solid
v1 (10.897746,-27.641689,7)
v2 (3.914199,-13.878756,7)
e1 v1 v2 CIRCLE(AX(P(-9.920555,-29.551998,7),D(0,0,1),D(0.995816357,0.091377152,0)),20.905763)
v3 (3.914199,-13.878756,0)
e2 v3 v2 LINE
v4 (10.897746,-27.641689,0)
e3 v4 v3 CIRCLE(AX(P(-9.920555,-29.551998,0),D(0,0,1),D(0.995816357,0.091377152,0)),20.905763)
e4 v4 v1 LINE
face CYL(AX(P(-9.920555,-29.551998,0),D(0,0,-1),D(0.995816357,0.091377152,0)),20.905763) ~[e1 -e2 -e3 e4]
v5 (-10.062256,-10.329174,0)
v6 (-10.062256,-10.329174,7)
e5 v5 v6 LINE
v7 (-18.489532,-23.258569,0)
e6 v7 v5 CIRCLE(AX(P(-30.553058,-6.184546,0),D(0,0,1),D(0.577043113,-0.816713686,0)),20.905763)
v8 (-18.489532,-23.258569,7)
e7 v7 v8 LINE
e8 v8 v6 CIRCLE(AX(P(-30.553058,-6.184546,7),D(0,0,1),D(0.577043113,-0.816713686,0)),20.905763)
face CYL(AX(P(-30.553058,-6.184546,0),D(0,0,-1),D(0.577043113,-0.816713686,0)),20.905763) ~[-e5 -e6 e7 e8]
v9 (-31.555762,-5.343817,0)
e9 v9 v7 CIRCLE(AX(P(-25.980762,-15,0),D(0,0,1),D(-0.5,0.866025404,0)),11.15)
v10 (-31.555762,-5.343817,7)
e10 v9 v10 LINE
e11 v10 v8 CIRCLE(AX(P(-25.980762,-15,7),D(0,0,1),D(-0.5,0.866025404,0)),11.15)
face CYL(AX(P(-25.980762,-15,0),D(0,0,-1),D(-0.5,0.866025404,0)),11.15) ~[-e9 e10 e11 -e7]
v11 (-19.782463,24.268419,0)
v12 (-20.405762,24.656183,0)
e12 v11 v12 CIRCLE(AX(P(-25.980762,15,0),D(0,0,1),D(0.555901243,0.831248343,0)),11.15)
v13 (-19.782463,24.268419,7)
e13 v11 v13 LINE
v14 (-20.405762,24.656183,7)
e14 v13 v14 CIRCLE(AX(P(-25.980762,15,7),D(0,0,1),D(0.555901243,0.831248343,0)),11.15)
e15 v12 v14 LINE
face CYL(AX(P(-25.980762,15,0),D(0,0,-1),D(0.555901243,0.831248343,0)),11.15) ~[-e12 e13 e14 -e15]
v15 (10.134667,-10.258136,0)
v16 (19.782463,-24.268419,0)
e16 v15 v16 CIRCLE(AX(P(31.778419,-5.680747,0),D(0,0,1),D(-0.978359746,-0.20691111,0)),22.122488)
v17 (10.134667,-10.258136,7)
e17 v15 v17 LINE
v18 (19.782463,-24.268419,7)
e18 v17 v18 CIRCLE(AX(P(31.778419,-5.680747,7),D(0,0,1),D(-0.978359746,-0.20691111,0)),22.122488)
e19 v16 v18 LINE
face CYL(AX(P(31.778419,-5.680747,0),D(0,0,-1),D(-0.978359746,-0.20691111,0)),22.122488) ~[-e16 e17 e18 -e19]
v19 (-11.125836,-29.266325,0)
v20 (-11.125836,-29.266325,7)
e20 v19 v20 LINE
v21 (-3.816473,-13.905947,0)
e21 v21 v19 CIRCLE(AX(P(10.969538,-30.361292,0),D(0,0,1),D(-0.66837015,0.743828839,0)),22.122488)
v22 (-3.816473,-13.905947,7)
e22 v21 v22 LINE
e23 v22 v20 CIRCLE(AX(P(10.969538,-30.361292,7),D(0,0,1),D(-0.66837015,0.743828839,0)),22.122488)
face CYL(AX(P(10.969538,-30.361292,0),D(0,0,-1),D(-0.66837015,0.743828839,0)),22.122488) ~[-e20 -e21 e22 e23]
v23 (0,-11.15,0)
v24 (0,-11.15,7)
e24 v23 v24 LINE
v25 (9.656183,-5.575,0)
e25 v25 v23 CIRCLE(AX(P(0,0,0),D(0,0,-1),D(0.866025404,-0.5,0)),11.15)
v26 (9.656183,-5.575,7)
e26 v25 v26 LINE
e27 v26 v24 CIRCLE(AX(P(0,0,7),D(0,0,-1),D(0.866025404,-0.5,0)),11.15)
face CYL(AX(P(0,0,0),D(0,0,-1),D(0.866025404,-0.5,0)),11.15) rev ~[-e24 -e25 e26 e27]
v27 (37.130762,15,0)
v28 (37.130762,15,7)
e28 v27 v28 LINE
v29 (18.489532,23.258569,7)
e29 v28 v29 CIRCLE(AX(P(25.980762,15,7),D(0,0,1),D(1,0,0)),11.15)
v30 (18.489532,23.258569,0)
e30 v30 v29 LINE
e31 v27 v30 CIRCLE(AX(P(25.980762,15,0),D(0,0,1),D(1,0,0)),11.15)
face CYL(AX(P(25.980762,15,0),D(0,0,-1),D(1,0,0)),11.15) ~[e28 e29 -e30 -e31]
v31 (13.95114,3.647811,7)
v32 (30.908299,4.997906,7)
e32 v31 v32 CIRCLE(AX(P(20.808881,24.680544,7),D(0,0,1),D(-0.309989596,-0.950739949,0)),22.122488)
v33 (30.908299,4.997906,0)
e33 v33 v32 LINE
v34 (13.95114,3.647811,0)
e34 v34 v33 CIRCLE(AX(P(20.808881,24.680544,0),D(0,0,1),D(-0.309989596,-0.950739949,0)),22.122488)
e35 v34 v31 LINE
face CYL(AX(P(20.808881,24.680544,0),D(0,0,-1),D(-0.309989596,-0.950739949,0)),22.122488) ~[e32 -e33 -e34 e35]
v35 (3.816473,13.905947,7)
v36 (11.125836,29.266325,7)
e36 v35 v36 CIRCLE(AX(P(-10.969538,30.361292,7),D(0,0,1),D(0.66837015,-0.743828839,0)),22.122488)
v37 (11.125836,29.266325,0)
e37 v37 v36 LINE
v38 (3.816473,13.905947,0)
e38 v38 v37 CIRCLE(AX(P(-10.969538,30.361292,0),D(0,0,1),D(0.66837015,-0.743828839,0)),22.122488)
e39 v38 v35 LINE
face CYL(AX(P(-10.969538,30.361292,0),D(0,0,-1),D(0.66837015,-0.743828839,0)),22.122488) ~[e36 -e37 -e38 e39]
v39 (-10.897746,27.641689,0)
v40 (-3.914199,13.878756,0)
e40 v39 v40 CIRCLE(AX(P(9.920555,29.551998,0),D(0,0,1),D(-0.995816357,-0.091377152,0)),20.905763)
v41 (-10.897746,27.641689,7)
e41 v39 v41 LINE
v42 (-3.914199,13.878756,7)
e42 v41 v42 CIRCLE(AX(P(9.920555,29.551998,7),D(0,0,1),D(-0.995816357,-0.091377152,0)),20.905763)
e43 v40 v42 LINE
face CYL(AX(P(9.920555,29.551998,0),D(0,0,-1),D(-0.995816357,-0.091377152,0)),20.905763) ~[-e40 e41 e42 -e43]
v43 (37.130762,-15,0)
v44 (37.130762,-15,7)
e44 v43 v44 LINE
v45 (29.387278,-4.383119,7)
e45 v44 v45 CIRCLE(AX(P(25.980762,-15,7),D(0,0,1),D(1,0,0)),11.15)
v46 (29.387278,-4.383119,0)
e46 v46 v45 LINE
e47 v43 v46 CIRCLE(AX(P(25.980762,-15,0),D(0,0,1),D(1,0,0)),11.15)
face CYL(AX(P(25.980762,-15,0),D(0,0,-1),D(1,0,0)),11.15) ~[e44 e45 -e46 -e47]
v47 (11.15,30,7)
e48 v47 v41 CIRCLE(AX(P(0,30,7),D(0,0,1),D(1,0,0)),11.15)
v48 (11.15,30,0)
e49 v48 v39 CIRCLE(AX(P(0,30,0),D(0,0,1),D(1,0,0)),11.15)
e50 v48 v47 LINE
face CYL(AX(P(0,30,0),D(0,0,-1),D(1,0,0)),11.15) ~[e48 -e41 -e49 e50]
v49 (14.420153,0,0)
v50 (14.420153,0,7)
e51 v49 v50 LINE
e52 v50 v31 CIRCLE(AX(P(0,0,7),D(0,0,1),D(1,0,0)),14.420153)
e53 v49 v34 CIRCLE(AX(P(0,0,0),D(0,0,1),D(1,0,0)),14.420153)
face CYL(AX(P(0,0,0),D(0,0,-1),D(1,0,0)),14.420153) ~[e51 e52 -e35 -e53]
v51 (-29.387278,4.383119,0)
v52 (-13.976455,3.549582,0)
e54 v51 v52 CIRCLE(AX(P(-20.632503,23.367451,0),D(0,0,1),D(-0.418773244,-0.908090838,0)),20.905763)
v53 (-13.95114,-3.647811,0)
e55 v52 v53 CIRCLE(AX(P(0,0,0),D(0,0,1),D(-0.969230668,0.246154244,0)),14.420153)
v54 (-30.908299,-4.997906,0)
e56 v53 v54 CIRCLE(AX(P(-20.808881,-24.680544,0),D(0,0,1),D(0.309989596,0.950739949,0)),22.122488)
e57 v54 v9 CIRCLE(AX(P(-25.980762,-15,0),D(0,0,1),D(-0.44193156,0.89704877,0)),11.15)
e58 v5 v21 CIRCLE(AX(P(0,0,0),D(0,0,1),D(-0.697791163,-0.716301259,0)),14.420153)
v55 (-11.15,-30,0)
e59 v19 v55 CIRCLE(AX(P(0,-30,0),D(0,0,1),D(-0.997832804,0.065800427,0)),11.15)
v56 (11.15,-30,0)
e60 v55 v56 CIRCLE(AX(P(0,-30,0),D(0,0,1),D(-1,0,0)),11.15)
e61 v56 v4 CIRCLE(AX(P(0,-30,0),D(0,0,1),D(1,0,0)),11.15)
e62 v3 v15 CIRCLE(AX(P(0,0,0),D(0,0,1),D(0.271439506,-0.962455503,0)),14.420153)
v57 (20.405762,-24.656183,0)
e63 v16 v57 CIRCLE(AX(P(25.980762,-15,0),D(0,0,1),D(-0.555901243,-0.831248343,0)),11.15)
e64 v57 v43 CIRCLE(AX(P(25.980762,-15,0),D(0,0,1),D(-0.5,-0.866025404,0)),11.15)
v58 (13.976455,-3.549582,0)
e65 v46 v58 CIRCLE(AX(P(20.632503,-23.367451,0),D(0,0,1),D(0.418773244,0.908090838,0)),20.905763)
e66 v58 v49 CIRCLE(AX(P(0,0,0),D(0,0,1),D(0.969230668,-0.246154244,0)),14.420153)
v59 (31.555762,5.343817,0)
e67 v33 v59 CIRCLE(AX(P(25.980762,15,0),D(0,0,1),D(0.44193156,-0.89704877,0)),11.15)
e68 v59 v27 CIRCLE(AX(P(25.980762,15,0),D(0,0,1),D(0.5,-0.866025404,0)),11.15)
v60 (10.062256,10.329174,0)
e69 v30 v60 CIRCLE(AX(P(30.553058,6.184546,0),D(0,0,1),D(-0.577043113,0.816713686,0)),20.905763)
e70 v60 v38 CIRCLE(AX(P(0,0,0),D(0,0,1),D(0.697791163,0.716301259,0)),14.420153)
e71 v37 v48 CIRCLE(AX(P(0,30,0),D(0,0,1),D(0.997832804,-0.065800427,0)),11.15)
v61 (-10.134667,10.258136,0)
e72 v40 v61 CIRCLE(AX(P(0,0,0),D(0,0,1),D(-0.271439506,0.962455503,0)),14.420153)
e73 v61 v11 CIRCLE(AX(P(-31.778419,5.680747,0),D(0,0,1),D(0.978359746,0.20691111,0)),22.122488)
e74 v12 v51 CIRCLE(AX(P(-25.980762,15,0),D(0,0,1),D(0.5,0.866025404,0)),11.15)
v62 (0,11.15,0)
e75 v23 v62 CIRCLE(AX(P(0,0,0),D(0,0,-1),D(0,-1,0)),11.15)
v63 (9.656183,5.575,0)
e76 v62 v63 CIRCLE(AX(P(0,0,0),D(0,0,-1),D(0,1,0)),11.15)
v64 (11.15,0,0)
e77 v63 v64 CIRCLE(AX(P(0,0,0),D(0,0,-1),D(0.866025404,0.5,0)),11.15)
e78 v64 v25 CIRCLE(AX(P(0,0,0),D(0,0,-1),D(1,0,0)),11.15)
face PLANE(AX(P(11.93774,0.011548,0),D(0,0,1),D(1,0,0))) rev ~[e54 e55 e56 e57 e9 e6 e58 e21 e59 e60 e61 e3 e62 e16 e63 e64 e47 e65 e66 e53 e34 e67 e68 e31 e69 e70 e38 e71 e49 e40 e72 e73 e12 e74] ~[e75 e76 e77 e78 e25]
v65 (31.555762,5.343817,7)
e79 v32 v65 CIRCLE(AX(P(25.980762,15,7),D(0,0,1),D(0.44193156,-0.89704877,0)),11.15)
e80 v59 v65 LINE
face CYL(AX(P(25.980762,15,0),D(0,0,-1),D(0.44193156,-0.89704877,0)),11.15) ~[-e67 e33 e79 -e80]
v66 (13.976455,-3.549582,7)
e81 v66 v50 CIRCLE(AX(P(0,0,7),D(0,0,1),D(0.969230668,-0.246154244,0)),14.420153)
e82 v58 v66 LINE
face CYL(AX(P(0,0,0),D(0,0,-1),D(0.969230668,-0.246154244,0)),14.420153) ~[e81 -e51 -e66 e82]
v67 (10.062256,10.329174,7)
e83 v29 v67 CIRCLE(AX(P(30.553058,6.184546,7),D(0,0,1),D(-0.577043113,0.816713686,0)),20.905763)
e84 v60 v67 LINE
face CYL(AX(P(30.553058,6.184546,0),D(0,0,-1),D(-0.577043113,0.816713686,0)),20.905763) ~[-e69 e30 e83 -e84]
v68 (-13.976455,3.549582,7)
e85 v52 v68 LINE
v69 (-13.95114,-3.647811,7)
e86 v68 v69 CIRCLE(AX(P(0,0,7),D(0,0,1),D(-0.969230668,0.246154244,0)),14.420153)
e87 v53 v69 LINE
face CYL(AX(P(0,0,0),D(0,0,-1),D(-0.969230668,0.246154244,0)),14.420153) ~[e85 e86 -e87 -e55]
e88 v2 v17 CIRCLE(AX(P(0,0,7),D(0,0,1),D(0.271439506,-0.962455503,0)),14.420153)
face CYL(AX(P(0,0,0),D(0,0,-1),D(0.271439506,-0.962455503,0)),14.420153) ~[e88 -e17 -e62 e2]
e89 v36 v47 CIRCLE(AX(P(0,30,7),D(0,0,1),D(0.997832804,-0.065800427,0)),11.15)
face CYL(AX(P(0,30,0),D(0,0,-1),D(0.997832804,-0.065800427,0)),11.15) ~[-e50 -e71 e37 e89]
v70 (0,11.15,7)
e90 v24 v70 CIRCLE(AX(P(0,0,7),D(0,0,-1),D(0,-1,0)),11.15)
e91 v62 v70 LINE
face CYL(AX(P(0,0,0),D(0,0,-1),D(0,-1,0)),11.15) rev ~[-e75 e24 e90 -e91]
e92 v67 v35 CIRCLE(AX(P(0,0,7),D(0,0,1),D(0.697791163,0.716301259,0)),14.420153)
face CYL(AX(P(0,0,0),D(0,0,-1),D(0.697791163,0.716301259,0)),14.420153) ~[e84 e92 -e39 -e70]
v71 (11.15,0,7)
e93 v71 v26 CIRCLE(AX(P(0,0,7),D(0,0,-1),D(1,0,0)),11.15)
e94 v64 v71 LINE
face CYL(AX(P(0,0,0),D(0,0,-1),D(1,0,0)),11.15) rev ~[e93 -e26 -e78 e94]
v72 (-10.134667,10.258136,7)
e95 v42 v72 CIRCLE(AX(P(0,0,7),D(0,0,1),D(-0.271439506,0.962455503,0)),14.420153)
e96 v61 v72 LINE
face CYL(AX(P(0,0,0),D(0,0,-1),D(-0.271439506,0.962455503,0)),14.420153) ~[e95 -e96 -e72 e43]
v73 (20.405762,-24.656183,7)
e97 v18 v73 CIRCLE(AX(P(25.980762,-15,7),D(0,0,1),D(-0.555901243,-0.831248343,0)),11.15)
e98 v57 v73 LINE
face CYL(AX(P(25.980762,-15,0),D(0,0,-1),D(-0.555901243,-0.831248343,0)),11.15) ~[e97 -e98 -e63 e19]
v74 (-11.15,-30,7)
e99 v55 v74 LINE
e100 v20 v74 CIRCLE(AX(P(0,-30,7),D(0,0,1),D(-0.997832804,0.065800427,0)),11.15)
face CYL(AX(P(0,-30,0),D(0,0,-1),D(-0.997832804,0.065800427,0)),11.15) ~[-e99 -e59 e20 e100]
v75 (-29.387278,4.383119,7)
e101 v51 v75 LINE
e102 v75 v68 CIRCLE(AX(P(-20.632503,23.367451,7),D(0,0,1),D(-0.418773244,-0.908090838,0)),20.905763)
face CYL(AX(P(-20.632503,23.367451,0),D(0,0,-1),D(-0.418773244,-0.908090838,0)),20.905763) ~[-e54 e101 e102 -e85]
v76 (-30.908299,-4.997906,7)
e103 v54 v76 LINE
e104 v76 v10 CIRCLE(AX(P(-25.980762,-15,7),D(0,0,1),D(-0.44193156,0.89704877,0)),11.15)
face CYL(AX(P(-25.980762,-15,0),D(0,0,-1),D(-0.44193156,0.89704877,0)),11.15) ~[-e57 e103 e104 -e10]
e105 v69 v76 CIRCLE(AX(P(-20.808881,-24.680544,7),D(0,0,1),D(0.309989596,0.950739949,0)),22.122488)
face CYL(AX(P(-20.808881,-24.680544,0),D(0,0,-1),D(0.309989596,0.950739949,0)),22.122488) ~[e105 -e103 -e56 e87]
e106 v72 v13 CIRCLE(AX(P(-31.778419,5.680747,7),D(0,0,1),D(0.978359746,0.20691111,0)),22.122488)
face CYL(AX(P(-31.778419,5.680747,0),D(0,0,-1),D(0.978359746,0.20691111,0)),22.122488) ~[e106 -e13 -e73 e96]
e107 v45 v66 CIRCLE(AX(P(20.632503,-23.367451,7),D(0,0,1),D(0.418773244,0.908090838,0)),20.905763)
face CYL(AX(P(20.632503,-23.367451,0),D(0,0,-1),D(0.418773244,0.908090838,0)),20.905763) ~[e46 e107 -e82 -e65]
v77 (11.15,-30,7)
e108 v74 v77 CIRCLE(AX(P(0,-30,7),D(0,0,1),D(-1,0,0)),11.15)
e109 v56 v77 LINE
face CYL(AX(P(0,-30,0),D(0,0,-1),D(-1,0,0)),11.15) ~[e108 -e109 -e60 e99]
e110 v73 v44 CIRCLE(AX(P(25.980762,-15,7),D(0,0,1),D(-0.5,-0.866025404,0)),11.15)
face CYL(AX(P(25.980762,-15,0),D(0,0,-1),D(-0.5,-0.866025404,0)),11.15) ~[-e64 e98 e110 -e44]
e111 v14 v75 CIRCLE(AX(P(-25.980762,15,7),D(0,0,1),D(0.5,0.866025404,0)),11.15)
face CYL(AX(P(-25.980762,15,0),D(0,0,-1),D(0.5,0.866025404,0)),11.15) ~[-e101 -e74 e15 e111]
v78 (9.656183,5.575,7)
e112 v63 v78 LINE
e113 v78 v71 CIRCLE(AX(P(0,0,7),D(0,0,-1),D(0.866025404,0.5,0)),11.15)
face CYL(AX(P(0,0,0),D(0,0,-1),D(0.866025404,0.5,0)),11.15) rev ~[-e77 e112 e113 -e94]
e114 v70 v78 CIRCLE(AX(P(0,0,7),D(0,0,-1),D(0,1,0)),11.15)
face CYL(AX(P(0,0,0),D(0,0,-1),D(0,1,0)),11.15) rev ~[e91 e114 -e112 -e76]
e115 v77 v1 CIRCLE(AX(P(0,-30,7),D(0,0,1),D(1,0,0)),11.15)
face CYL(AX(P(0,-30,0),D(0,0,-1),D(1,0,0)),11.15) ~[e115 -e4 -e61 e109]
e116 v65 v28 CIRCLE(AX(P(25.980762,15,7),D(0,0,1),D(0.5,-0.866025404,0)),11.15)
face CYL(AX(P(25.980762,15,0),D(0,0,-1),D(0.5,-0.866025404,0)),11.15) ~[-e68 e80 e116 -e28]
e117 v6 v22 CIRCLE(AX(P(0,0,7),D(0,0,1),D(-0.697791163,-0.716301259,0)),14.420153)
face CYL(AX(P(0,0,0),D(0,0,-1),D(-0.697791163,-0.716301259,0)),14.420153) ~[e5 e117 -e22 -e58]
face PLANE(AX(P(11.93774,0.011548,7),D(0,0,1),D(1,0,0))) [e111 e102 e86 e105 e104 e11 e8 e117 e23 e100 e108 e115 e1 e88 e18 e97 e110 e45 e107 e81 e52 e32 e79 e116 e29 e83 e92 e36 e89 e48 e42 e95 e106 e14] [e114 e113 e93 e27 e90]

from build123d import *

# Parameters (mm, degrees)
F1_DEPTH = 7


with BuildPart() as f1:
    # F0 (on Top) → F1 (new body)
    with BuildSketch(Plane.XY):
        with BuildLine():
            ThreePointArc((9.6561832522, 5.575), (10.7700729631, 2.8858323529), (11.15, 0))
            ThreePointArc((11.15, 0), (10.7700729631, -2.8858323529), (9.6561832522, -5.575))
            ThreePointArc((9.6561832522, -5.575), (11.7583450993, -4.4386309052), (13.9764549062, -3.549581955))
            ThreePointArc((13.9764549062, -3.549581955), (14.308798821, -1.7886028346), (14.4201533903, 0))
            ThreePointArc((14.4201533903, 0), (14.3024193489, 1.8389194019), (13.9511397154, 3.6478109107))
            ThreePointArc((13.9511397154, 3.6478109107), (11.7522539794, 4.4968380812), (9.6561832522, 5.575))
        make_face()
        with BuildLine():
            ThreePointArc((10.0622555989, 10.3291740261), (9.7231396716, 7.9637101099), (9.6561832522, 5.575))
            ThreePointArc((9.6561832522, 5.575), (11.7522539794, 4.4968380812), (13.9511397154, 3.6478109107))
            ThreePointArc((13.9511397154, 3.6478109107), (12.4627822697, 7.2539562928), (10.0622555989, 10.3291740261))
        make_face()
        with BuildLine():
            ThreePointArc((0, 11.15), (5.575, 9.6561832522), (9.6561832522, 5.575))
            ThreePointArc((9.6561832522, 5.575), (9.7231396716, 7.9637101099), (10.0622555989, 10.3291740261))
            ThreePointArc((10.0622555989, 10.3291740261), (7.1661079009, 12.5135015624), (3.8164729409, 13.9059468606))
            ThreePointArc((3.8164729409, 13.9059468606), (1.9817509747, 12.4261695385), (0, 11.15))
        make_face()
        with BuildLine():
            ThreePointArc((10.1346667746, -10.25813595), (9.7705030047, -7.9293314573), (9.6561832522, -5.575))
            ThreePointArc((9.6561832522, -5.575), (5.575, -9.6561832522), (0, -11.15))
            ThreePointArc((0, -11.15), (2.0352054277, -12.4023410151), (3.9141993072, -13.8787559811))
            ThreePointArc((3.9141993072, -13.8787559811), (7.2539562928, -12.4627822697), (10.1346667746, -10.25813595))
        make_face()
        with BuildLine():
            ThreePointArc((13.9764549062, -3.549581955), (11.7583450993, -4.4386309052), (9.6561832522, -5.575))
            ThreePointArc((9.6561832522, -5.575), (9.7705030047, -7.9293314573), (10.1346667746, -10.25813595))
            ThreePointArc((10.1346667746, -10.25813595), (12.5135015624, -7.1661079009), (13.9764549062, -3.549581955))
        make_face()
        with BuildLine():
            ThreePointArc((-3.9141993072, 13.8787559811), (-2.0352054277, 12.4023410151), (0, 11.15))
            ThreePointArc((0, 11.15), (1.9817509747, 12.4261695385), (3.8164729409, 13.9059468606))
            ThreePointArc((3.8164729409, 13.9059468606), (-0.0507192927, 14.4200641938), (-3.9141993072, 13.8787559811))
        make_face()
        with BuildLine():
            ThreePointArc((-9.6561832522, 5.575), (-5.575, 9.6561832522), (0, 11.15))
            ThreePointArc((0, 11.15), (-2.0352054277, 12.4023410151), (-3.9141993072, 13.8787559811))
            ThreePointArc((-3.9141993072, 13.8787559811), (-7.2539562928, 12.4627822697), (-10.1346667746, 10.25813595))
            ThreePointArc((-10.1346667746, 10.25813595), (-9.7705030047, 7.9293314573), (-9.6561832522, 5.575))
        make_face()
        with BuildLine():
            ThreePointArc((10.0622555989, 10.3291740261), (12.4627822697, 7.2539562928), (13.9511397154, 3.6478109107))
            ThreePointArc((13.9511397154, 3.6478109107), (22.5646732179, 2.6278419368), (30.9082990141, 4.9979062145))
            ThreePointArc((30.9082990141, 4.9979062145), (16.7608876912, 8.7297196525), (18.4895315816, 23.2585691931))
            ThreePointArc((18.4895315816, 23.2585691931), (13.039109397, 17.5999976189), (10.0622555989, 10.3291740261))
        make_face()
        with BuildLine():
            ThreePointArc((-3.8164729409, -13.9059468606), (-1.9817509747, -12.4261695385), (0, -11.15))
            ThreePointArc((0, -11.15), (-5.575, -9.6561832522), (-9.6561832522, -5.575))
            ThreePointArc((-9.6561832522, -5.575), (-9.7231396716, -7.9637101099), (-10.0622555989, -10.3291740261))
            ThreePointArc((-10.0622555989, -10.3291740261), (-7.1661079009, -12.5135015624), (-3.8164729409, -13.9059468606))
        make_face()
        with BuildLine():
            ThreePointArc((3.9141993072, -13.8787559811), (2.0352054277, -12.4023410151), (0, -11.15))
            ThreePointArc((0, -11.15), (-1.9817509747, -12.4261695385), (-3.8164729409, -13.9059468606))
            ThreePointArc((-3.8164729409, -13.9059468606), (0.0507192927, -14.4200641938), (3.9141993072, -13.8787559811))
        make_face()
        with BuildLine():
            ThreePointArc((13.9764549062, -3.549581955), (12.5135015624, -7.1661079009), (10.1346667746, -10.25813595))
            ThreePointArc((10.1346667746, -10.25813595), (13.5581144833, -18.2276592665), (19.7824632545, -24.2684190267))
            ThreePointArc((19.7824632545, -24.2684190267), (15.9406028326, -10.1504947043), (29.3872775678, -4.3831194572))
            ThreePointArc((29.3872775678, -4.3831194572), (21.761599743, -2.4922011711), (13.9764549062, -3.549581955))
        make_face()
        with BuildLine():
            ThreePointArc((-13.9764549062, 3.549581955), (-11.7583450993, 4.4386309052), (-9.6561832522, 5.575))
            ThreePointArc((-9.6561832522, 5.575), (-9.7705030047, 7.9293314573), (-10.1346667746, 10.25813595))
            ThreePointArc((-10.1346667746, 10.25813595), (-12.5135015624, 7.1661079009), (-13.9764549062, 3.549581955))
        make_face()
        with BuildLine():
            ThreePointArc((-9.6561832522, -5.575), (-11.15, 0), (-9.6561832522, 5.575))
            ThreePointArc((-9.6561832522, 5.575), (-11.7583450993, 4.4386309052), (-13.9764549062, 3.549581955))
            ThreePointArc((-13.9764549062, 3.549581955), (-14.4200641938, -0.0507192927), (-13.9511397154, -3.6478109107))
            ThreePointArc((-13.9511397154, -3.6478109107), (-11.7522539794, -4.4968380812), (-9.6561832522, -5.575))
        make_face()
        with BuildLine():
            ThreePointArc((-3.9141993072, 13.8787559811), (-0.0507192927, 14.4200641938), (3.8164729409, 13.9059468606))
            ThreePointArc((3.8164729409, 13.9059468606), (9.0065587346, 20.8555012032), (11.1258357595, 29.2663252412))
            ThreePointArc((11.1258357595, 29.2663252412), (0.8202848586, 18.8802143568), (-10.8977459861, 27.6416886503))
            ThreePointArc((-10.8977459861, 27.6416886503), (-8.722490346, 20.0921987899), (-3.9141993072, 13.8787559811))
        make_face()
        with BuildLine():
            ThreePointArc((31.5557621135, 5.3438167478), (31.2334654211, 5.168175766), (30.9082990141, 4.9979062145))
            ThreePointArc((30.9082990141, 4.9979062145), (31.2348780107, 5.1655317307), (31.5557621135, 5.3438167478))
        make_face()
        with BuildLine():
            ThreePointArc((18.4895315816, 23.2585691931), (16.7608876912, 8.7297196525), (30.9082990141, 4.9979062145))
            ThreePointArc((30.9082990141, 4.9979062145), (31.2334654211, 5.168175766), (31.5557621135, 5.3438167478))
            ThreePointArc((31.5557621135, 5.3438167478), (35.6369453657, 9.425), (37.1307621135, 15))
            ThreePointArc((37.1307621135, 15), (30.497136742, 25.1943543305), (18.4895315816, 23.2585691931))
        make_face()
        with BuildLine():
            ThreePointArc((-10.0622555989, -10.3291740261), (-9.7231396716, -7.9637101099), (-9.6561832522, -5.575))
            ThreePointArc((-9.6561832522, -5.575), (-11.7522539794, -4.4968380812), (-13.9511397154, -3.6478109107))
            ThreePointArc((-13.9511397154, -3.6478109107), (-12.4627822697, -7.2539562928), (-10.0622555989, -10.3291740261))
        make_face()
        with BuildLine():
            ThreePointArc((3.9141993072, -13.8787559811), (0.0507192927, -14.4200641938), (-3.8164729409, -13.9059468606))
            ThreePointArc((-3.8164729409, -13.9059468606), (-9.0065587346, -20.8555012032), (-11.1258357595, -29.2663252412))
            ThreePointArc((-11.1258357595, -29.2663252412), (-0.8202848586, -18.8802143568), (10.8977459861, -27.6416886503))
            ThreePointArc((10.8977459861, -27.6416886503), (8.722490346, -20.0921987899), (3.9141993072, -13.8787559811))
        make_face()
        with BuildLine():
            ThreePointArc((20.4057621135, -24.6561832522), (20.0925042151, -24.4648866199), (19.7824632545, -24.2684190267))
            ThreePointArc((19.7824632545, -24.2684190267), (20.0909207082, -24.467431976), (20.4057621135, -24.6561832522))
        make_face()
        with BuildLine():
            ThreePointArc((29.3872775678, -4.3831194572), (15.9406028326, -10.1504947043), (19.7824632545, -24.2684190267))
            ThreePointArc((19.7824632545, -24.2684190267), (20.0925042151, -24.4648866199), (20.4057621135, -24.6561832522))
            ThreePointArc((20.4057621135, -24.6561832522), (31.5557621135, -24.6561832522), (37.1307621135, -15))
            ThreePointArc((37.1307621135, -15), (34.98923444, -8.4296174889), (29.3872775678, -4.3831194572))
        make_face()
        with BuildLine():
            ThreePointArc((-13.9764549062, 3.549581955), (-12.5135015624, 7.1661079009), (-10.1346667746, 10.25813595))
            ThreePointArc((-10.1346667746, 10.25813595), (-13.5581144833, 18.2276592665), (-19.7824632545, 24.2684190267))
            ThreePointArc((-19.7824632545, 24.2684190267), (-16.1462938443, 20.2541158972), (-14.8307621135, 15))
            ThreePointArc((-14.8307621135, 15), (-19.4103796024, 5.9915276735), (-29.3872775678, 4.3831194572))
            ThreePointArc((-29.3872775678, 4.3831194572), (-21.761599743, 2.4922011711), (-13.9764549062, 3.549581955))
        make_face()
        with BuildLine():
            ThreePointArc((11.15, 30), (11.140961206, 29.6330623859), (11.1258357595, 29.2663252412))
            ThreePointArc((11.1258357595, 29.2663252412), (11.1439573025, 29.6329637068), (11.15, 30))
        make_face()
        with BuildLine():
            ThreePointArc((-10.8977459861, 27.6416886503), (0.8202848586, 18.8802143568), (11.1258357595, 29.2663252412))
            ThreePointArc((11.1258357595, 29.2663252412), (11.140961206, 29.6330623859), (11.15, 30))
            ThreePointArc((11.15, 30), (-1.185882004, 41.0867571396), (-10.8977459861, 27.6416886503))
        make_face()
        with BuildLine():
            ThreePointArc((-10.0622555989, -10.3291740261), (-12.4627822697, -7.2539562928), (-13.9511397154, -3.6478109107))
            ThreePointArc((-13.9511397154, -3.6478109107), (-22.5646732179, -2.6278419368), (-30.9082990141, -4.9979062145))
            ThreePointArc((-30.9082990141, -4.9979062145), (-20.0909207082, -5.532568024), (-14.8307621135, -15))
            ThreePointArc((-14.8307621135, -15), (-15.7864077831, -19.5163746285), (-18.4895315816, -23.2585691931))
            ThreePointArc((-18.4895315816, -23.2585691931), (-13.039109397, -17.5999976189), (-10.0622555989, -10.3291740261))
        make_face()
        with BuildLine():
            ThreePointArc((-11.15, -30), (-11.140961206, -29.6330623859), (-11.1258357595, -29.2663252412))
            ThreePointArc((-11.1258357595, -29.2663252412), (-11.1439573025, -29.6329637068), (-11.15, -30))
        make_face()
        with BuildLine():
            ThreePointArc((10.8977459861, -27.6416886503), (-0.8202848586, -18.8802143568), (-11.1258357595, -29.2663252412))
            ThreePointArc((-11.1258357595, -29.2663252412), (-11.140961206, -29.6330623859), (-11.15, -30))
            ThreePointArc((-11.15, -30), (0, -41.15), (11.15, -30))
            ThreePointArc((11.15, -30), (11.0867571396, -28.814117996), (10.8977459861, -27.6416886503))
        make_face()
        with BuildLine():
            ThreePointArc((-20.4057621135, 24.6561832522), (-20.0925042151, 24.4648866199), (-19.7824632545, 24.2684190267))
            ThreePointArc((-19.7824632545, 24.2684190267), (-20.0909207082, 24.467431976), (-20.4057621135, 24.6561832522))
        make_face()
        with BuildLine():
            ThreePointArc((-14.8307621135, 15), (-16.1462938443, 20.2541158972), (-19.7824632545, 24.2684190267))
            ThreePointArc((-19.7824632545, 24.2684190267), (-20.0925042151, 24.4648866199), (-20.4057621135, 24.6561832522))
            ThreePointArc((-20.4057621135, 24.6561832522), (-36.175116444, 19.5163746285), (-29.3872775678, 4.3831194572))
            ThreePointArc((-29.3872775678, 4.3831194572), (-19.4103796024, 5.9915276735), (-14.8307621135, 15))
        make_face()
        with BuildLine():
            ThreePointArc((-31.5557621135, -5.3438167478), (-31.2334654211, -5.168175766), (-30.9082990141, -4.9979062145))
            ThreePointArc((-30.9082990141, -4.9979062145), (-31.2348780107, -5.1655317307), (-31.5557621135, -5.3438167478))
        make_face()
        with BuildLine():
            ThreePointArc((-14.8307621135, -15), (-20.0909207082, -5.532568024), (-30.9082990141, -4.9979062145))
            ThreePointArc((-30.9082990141, -4.9979062145), (-31.2334654211, -5.168175766), (-31.5557621135, -5.3438167478))
            ThreePointArc((-31.5557621135, -5.3438167478), (-34.98923444, -21.5703825111), (-18.4895315816, -23.2585691931))
            ThreePointArc((-18.4895315816, -23.2585691931), (-15.7864077831, -19.5163746285), (-14.8307621135, -15))
        make_face()
    extrude(amount=F1_DEPTH)


solid = f1.part
